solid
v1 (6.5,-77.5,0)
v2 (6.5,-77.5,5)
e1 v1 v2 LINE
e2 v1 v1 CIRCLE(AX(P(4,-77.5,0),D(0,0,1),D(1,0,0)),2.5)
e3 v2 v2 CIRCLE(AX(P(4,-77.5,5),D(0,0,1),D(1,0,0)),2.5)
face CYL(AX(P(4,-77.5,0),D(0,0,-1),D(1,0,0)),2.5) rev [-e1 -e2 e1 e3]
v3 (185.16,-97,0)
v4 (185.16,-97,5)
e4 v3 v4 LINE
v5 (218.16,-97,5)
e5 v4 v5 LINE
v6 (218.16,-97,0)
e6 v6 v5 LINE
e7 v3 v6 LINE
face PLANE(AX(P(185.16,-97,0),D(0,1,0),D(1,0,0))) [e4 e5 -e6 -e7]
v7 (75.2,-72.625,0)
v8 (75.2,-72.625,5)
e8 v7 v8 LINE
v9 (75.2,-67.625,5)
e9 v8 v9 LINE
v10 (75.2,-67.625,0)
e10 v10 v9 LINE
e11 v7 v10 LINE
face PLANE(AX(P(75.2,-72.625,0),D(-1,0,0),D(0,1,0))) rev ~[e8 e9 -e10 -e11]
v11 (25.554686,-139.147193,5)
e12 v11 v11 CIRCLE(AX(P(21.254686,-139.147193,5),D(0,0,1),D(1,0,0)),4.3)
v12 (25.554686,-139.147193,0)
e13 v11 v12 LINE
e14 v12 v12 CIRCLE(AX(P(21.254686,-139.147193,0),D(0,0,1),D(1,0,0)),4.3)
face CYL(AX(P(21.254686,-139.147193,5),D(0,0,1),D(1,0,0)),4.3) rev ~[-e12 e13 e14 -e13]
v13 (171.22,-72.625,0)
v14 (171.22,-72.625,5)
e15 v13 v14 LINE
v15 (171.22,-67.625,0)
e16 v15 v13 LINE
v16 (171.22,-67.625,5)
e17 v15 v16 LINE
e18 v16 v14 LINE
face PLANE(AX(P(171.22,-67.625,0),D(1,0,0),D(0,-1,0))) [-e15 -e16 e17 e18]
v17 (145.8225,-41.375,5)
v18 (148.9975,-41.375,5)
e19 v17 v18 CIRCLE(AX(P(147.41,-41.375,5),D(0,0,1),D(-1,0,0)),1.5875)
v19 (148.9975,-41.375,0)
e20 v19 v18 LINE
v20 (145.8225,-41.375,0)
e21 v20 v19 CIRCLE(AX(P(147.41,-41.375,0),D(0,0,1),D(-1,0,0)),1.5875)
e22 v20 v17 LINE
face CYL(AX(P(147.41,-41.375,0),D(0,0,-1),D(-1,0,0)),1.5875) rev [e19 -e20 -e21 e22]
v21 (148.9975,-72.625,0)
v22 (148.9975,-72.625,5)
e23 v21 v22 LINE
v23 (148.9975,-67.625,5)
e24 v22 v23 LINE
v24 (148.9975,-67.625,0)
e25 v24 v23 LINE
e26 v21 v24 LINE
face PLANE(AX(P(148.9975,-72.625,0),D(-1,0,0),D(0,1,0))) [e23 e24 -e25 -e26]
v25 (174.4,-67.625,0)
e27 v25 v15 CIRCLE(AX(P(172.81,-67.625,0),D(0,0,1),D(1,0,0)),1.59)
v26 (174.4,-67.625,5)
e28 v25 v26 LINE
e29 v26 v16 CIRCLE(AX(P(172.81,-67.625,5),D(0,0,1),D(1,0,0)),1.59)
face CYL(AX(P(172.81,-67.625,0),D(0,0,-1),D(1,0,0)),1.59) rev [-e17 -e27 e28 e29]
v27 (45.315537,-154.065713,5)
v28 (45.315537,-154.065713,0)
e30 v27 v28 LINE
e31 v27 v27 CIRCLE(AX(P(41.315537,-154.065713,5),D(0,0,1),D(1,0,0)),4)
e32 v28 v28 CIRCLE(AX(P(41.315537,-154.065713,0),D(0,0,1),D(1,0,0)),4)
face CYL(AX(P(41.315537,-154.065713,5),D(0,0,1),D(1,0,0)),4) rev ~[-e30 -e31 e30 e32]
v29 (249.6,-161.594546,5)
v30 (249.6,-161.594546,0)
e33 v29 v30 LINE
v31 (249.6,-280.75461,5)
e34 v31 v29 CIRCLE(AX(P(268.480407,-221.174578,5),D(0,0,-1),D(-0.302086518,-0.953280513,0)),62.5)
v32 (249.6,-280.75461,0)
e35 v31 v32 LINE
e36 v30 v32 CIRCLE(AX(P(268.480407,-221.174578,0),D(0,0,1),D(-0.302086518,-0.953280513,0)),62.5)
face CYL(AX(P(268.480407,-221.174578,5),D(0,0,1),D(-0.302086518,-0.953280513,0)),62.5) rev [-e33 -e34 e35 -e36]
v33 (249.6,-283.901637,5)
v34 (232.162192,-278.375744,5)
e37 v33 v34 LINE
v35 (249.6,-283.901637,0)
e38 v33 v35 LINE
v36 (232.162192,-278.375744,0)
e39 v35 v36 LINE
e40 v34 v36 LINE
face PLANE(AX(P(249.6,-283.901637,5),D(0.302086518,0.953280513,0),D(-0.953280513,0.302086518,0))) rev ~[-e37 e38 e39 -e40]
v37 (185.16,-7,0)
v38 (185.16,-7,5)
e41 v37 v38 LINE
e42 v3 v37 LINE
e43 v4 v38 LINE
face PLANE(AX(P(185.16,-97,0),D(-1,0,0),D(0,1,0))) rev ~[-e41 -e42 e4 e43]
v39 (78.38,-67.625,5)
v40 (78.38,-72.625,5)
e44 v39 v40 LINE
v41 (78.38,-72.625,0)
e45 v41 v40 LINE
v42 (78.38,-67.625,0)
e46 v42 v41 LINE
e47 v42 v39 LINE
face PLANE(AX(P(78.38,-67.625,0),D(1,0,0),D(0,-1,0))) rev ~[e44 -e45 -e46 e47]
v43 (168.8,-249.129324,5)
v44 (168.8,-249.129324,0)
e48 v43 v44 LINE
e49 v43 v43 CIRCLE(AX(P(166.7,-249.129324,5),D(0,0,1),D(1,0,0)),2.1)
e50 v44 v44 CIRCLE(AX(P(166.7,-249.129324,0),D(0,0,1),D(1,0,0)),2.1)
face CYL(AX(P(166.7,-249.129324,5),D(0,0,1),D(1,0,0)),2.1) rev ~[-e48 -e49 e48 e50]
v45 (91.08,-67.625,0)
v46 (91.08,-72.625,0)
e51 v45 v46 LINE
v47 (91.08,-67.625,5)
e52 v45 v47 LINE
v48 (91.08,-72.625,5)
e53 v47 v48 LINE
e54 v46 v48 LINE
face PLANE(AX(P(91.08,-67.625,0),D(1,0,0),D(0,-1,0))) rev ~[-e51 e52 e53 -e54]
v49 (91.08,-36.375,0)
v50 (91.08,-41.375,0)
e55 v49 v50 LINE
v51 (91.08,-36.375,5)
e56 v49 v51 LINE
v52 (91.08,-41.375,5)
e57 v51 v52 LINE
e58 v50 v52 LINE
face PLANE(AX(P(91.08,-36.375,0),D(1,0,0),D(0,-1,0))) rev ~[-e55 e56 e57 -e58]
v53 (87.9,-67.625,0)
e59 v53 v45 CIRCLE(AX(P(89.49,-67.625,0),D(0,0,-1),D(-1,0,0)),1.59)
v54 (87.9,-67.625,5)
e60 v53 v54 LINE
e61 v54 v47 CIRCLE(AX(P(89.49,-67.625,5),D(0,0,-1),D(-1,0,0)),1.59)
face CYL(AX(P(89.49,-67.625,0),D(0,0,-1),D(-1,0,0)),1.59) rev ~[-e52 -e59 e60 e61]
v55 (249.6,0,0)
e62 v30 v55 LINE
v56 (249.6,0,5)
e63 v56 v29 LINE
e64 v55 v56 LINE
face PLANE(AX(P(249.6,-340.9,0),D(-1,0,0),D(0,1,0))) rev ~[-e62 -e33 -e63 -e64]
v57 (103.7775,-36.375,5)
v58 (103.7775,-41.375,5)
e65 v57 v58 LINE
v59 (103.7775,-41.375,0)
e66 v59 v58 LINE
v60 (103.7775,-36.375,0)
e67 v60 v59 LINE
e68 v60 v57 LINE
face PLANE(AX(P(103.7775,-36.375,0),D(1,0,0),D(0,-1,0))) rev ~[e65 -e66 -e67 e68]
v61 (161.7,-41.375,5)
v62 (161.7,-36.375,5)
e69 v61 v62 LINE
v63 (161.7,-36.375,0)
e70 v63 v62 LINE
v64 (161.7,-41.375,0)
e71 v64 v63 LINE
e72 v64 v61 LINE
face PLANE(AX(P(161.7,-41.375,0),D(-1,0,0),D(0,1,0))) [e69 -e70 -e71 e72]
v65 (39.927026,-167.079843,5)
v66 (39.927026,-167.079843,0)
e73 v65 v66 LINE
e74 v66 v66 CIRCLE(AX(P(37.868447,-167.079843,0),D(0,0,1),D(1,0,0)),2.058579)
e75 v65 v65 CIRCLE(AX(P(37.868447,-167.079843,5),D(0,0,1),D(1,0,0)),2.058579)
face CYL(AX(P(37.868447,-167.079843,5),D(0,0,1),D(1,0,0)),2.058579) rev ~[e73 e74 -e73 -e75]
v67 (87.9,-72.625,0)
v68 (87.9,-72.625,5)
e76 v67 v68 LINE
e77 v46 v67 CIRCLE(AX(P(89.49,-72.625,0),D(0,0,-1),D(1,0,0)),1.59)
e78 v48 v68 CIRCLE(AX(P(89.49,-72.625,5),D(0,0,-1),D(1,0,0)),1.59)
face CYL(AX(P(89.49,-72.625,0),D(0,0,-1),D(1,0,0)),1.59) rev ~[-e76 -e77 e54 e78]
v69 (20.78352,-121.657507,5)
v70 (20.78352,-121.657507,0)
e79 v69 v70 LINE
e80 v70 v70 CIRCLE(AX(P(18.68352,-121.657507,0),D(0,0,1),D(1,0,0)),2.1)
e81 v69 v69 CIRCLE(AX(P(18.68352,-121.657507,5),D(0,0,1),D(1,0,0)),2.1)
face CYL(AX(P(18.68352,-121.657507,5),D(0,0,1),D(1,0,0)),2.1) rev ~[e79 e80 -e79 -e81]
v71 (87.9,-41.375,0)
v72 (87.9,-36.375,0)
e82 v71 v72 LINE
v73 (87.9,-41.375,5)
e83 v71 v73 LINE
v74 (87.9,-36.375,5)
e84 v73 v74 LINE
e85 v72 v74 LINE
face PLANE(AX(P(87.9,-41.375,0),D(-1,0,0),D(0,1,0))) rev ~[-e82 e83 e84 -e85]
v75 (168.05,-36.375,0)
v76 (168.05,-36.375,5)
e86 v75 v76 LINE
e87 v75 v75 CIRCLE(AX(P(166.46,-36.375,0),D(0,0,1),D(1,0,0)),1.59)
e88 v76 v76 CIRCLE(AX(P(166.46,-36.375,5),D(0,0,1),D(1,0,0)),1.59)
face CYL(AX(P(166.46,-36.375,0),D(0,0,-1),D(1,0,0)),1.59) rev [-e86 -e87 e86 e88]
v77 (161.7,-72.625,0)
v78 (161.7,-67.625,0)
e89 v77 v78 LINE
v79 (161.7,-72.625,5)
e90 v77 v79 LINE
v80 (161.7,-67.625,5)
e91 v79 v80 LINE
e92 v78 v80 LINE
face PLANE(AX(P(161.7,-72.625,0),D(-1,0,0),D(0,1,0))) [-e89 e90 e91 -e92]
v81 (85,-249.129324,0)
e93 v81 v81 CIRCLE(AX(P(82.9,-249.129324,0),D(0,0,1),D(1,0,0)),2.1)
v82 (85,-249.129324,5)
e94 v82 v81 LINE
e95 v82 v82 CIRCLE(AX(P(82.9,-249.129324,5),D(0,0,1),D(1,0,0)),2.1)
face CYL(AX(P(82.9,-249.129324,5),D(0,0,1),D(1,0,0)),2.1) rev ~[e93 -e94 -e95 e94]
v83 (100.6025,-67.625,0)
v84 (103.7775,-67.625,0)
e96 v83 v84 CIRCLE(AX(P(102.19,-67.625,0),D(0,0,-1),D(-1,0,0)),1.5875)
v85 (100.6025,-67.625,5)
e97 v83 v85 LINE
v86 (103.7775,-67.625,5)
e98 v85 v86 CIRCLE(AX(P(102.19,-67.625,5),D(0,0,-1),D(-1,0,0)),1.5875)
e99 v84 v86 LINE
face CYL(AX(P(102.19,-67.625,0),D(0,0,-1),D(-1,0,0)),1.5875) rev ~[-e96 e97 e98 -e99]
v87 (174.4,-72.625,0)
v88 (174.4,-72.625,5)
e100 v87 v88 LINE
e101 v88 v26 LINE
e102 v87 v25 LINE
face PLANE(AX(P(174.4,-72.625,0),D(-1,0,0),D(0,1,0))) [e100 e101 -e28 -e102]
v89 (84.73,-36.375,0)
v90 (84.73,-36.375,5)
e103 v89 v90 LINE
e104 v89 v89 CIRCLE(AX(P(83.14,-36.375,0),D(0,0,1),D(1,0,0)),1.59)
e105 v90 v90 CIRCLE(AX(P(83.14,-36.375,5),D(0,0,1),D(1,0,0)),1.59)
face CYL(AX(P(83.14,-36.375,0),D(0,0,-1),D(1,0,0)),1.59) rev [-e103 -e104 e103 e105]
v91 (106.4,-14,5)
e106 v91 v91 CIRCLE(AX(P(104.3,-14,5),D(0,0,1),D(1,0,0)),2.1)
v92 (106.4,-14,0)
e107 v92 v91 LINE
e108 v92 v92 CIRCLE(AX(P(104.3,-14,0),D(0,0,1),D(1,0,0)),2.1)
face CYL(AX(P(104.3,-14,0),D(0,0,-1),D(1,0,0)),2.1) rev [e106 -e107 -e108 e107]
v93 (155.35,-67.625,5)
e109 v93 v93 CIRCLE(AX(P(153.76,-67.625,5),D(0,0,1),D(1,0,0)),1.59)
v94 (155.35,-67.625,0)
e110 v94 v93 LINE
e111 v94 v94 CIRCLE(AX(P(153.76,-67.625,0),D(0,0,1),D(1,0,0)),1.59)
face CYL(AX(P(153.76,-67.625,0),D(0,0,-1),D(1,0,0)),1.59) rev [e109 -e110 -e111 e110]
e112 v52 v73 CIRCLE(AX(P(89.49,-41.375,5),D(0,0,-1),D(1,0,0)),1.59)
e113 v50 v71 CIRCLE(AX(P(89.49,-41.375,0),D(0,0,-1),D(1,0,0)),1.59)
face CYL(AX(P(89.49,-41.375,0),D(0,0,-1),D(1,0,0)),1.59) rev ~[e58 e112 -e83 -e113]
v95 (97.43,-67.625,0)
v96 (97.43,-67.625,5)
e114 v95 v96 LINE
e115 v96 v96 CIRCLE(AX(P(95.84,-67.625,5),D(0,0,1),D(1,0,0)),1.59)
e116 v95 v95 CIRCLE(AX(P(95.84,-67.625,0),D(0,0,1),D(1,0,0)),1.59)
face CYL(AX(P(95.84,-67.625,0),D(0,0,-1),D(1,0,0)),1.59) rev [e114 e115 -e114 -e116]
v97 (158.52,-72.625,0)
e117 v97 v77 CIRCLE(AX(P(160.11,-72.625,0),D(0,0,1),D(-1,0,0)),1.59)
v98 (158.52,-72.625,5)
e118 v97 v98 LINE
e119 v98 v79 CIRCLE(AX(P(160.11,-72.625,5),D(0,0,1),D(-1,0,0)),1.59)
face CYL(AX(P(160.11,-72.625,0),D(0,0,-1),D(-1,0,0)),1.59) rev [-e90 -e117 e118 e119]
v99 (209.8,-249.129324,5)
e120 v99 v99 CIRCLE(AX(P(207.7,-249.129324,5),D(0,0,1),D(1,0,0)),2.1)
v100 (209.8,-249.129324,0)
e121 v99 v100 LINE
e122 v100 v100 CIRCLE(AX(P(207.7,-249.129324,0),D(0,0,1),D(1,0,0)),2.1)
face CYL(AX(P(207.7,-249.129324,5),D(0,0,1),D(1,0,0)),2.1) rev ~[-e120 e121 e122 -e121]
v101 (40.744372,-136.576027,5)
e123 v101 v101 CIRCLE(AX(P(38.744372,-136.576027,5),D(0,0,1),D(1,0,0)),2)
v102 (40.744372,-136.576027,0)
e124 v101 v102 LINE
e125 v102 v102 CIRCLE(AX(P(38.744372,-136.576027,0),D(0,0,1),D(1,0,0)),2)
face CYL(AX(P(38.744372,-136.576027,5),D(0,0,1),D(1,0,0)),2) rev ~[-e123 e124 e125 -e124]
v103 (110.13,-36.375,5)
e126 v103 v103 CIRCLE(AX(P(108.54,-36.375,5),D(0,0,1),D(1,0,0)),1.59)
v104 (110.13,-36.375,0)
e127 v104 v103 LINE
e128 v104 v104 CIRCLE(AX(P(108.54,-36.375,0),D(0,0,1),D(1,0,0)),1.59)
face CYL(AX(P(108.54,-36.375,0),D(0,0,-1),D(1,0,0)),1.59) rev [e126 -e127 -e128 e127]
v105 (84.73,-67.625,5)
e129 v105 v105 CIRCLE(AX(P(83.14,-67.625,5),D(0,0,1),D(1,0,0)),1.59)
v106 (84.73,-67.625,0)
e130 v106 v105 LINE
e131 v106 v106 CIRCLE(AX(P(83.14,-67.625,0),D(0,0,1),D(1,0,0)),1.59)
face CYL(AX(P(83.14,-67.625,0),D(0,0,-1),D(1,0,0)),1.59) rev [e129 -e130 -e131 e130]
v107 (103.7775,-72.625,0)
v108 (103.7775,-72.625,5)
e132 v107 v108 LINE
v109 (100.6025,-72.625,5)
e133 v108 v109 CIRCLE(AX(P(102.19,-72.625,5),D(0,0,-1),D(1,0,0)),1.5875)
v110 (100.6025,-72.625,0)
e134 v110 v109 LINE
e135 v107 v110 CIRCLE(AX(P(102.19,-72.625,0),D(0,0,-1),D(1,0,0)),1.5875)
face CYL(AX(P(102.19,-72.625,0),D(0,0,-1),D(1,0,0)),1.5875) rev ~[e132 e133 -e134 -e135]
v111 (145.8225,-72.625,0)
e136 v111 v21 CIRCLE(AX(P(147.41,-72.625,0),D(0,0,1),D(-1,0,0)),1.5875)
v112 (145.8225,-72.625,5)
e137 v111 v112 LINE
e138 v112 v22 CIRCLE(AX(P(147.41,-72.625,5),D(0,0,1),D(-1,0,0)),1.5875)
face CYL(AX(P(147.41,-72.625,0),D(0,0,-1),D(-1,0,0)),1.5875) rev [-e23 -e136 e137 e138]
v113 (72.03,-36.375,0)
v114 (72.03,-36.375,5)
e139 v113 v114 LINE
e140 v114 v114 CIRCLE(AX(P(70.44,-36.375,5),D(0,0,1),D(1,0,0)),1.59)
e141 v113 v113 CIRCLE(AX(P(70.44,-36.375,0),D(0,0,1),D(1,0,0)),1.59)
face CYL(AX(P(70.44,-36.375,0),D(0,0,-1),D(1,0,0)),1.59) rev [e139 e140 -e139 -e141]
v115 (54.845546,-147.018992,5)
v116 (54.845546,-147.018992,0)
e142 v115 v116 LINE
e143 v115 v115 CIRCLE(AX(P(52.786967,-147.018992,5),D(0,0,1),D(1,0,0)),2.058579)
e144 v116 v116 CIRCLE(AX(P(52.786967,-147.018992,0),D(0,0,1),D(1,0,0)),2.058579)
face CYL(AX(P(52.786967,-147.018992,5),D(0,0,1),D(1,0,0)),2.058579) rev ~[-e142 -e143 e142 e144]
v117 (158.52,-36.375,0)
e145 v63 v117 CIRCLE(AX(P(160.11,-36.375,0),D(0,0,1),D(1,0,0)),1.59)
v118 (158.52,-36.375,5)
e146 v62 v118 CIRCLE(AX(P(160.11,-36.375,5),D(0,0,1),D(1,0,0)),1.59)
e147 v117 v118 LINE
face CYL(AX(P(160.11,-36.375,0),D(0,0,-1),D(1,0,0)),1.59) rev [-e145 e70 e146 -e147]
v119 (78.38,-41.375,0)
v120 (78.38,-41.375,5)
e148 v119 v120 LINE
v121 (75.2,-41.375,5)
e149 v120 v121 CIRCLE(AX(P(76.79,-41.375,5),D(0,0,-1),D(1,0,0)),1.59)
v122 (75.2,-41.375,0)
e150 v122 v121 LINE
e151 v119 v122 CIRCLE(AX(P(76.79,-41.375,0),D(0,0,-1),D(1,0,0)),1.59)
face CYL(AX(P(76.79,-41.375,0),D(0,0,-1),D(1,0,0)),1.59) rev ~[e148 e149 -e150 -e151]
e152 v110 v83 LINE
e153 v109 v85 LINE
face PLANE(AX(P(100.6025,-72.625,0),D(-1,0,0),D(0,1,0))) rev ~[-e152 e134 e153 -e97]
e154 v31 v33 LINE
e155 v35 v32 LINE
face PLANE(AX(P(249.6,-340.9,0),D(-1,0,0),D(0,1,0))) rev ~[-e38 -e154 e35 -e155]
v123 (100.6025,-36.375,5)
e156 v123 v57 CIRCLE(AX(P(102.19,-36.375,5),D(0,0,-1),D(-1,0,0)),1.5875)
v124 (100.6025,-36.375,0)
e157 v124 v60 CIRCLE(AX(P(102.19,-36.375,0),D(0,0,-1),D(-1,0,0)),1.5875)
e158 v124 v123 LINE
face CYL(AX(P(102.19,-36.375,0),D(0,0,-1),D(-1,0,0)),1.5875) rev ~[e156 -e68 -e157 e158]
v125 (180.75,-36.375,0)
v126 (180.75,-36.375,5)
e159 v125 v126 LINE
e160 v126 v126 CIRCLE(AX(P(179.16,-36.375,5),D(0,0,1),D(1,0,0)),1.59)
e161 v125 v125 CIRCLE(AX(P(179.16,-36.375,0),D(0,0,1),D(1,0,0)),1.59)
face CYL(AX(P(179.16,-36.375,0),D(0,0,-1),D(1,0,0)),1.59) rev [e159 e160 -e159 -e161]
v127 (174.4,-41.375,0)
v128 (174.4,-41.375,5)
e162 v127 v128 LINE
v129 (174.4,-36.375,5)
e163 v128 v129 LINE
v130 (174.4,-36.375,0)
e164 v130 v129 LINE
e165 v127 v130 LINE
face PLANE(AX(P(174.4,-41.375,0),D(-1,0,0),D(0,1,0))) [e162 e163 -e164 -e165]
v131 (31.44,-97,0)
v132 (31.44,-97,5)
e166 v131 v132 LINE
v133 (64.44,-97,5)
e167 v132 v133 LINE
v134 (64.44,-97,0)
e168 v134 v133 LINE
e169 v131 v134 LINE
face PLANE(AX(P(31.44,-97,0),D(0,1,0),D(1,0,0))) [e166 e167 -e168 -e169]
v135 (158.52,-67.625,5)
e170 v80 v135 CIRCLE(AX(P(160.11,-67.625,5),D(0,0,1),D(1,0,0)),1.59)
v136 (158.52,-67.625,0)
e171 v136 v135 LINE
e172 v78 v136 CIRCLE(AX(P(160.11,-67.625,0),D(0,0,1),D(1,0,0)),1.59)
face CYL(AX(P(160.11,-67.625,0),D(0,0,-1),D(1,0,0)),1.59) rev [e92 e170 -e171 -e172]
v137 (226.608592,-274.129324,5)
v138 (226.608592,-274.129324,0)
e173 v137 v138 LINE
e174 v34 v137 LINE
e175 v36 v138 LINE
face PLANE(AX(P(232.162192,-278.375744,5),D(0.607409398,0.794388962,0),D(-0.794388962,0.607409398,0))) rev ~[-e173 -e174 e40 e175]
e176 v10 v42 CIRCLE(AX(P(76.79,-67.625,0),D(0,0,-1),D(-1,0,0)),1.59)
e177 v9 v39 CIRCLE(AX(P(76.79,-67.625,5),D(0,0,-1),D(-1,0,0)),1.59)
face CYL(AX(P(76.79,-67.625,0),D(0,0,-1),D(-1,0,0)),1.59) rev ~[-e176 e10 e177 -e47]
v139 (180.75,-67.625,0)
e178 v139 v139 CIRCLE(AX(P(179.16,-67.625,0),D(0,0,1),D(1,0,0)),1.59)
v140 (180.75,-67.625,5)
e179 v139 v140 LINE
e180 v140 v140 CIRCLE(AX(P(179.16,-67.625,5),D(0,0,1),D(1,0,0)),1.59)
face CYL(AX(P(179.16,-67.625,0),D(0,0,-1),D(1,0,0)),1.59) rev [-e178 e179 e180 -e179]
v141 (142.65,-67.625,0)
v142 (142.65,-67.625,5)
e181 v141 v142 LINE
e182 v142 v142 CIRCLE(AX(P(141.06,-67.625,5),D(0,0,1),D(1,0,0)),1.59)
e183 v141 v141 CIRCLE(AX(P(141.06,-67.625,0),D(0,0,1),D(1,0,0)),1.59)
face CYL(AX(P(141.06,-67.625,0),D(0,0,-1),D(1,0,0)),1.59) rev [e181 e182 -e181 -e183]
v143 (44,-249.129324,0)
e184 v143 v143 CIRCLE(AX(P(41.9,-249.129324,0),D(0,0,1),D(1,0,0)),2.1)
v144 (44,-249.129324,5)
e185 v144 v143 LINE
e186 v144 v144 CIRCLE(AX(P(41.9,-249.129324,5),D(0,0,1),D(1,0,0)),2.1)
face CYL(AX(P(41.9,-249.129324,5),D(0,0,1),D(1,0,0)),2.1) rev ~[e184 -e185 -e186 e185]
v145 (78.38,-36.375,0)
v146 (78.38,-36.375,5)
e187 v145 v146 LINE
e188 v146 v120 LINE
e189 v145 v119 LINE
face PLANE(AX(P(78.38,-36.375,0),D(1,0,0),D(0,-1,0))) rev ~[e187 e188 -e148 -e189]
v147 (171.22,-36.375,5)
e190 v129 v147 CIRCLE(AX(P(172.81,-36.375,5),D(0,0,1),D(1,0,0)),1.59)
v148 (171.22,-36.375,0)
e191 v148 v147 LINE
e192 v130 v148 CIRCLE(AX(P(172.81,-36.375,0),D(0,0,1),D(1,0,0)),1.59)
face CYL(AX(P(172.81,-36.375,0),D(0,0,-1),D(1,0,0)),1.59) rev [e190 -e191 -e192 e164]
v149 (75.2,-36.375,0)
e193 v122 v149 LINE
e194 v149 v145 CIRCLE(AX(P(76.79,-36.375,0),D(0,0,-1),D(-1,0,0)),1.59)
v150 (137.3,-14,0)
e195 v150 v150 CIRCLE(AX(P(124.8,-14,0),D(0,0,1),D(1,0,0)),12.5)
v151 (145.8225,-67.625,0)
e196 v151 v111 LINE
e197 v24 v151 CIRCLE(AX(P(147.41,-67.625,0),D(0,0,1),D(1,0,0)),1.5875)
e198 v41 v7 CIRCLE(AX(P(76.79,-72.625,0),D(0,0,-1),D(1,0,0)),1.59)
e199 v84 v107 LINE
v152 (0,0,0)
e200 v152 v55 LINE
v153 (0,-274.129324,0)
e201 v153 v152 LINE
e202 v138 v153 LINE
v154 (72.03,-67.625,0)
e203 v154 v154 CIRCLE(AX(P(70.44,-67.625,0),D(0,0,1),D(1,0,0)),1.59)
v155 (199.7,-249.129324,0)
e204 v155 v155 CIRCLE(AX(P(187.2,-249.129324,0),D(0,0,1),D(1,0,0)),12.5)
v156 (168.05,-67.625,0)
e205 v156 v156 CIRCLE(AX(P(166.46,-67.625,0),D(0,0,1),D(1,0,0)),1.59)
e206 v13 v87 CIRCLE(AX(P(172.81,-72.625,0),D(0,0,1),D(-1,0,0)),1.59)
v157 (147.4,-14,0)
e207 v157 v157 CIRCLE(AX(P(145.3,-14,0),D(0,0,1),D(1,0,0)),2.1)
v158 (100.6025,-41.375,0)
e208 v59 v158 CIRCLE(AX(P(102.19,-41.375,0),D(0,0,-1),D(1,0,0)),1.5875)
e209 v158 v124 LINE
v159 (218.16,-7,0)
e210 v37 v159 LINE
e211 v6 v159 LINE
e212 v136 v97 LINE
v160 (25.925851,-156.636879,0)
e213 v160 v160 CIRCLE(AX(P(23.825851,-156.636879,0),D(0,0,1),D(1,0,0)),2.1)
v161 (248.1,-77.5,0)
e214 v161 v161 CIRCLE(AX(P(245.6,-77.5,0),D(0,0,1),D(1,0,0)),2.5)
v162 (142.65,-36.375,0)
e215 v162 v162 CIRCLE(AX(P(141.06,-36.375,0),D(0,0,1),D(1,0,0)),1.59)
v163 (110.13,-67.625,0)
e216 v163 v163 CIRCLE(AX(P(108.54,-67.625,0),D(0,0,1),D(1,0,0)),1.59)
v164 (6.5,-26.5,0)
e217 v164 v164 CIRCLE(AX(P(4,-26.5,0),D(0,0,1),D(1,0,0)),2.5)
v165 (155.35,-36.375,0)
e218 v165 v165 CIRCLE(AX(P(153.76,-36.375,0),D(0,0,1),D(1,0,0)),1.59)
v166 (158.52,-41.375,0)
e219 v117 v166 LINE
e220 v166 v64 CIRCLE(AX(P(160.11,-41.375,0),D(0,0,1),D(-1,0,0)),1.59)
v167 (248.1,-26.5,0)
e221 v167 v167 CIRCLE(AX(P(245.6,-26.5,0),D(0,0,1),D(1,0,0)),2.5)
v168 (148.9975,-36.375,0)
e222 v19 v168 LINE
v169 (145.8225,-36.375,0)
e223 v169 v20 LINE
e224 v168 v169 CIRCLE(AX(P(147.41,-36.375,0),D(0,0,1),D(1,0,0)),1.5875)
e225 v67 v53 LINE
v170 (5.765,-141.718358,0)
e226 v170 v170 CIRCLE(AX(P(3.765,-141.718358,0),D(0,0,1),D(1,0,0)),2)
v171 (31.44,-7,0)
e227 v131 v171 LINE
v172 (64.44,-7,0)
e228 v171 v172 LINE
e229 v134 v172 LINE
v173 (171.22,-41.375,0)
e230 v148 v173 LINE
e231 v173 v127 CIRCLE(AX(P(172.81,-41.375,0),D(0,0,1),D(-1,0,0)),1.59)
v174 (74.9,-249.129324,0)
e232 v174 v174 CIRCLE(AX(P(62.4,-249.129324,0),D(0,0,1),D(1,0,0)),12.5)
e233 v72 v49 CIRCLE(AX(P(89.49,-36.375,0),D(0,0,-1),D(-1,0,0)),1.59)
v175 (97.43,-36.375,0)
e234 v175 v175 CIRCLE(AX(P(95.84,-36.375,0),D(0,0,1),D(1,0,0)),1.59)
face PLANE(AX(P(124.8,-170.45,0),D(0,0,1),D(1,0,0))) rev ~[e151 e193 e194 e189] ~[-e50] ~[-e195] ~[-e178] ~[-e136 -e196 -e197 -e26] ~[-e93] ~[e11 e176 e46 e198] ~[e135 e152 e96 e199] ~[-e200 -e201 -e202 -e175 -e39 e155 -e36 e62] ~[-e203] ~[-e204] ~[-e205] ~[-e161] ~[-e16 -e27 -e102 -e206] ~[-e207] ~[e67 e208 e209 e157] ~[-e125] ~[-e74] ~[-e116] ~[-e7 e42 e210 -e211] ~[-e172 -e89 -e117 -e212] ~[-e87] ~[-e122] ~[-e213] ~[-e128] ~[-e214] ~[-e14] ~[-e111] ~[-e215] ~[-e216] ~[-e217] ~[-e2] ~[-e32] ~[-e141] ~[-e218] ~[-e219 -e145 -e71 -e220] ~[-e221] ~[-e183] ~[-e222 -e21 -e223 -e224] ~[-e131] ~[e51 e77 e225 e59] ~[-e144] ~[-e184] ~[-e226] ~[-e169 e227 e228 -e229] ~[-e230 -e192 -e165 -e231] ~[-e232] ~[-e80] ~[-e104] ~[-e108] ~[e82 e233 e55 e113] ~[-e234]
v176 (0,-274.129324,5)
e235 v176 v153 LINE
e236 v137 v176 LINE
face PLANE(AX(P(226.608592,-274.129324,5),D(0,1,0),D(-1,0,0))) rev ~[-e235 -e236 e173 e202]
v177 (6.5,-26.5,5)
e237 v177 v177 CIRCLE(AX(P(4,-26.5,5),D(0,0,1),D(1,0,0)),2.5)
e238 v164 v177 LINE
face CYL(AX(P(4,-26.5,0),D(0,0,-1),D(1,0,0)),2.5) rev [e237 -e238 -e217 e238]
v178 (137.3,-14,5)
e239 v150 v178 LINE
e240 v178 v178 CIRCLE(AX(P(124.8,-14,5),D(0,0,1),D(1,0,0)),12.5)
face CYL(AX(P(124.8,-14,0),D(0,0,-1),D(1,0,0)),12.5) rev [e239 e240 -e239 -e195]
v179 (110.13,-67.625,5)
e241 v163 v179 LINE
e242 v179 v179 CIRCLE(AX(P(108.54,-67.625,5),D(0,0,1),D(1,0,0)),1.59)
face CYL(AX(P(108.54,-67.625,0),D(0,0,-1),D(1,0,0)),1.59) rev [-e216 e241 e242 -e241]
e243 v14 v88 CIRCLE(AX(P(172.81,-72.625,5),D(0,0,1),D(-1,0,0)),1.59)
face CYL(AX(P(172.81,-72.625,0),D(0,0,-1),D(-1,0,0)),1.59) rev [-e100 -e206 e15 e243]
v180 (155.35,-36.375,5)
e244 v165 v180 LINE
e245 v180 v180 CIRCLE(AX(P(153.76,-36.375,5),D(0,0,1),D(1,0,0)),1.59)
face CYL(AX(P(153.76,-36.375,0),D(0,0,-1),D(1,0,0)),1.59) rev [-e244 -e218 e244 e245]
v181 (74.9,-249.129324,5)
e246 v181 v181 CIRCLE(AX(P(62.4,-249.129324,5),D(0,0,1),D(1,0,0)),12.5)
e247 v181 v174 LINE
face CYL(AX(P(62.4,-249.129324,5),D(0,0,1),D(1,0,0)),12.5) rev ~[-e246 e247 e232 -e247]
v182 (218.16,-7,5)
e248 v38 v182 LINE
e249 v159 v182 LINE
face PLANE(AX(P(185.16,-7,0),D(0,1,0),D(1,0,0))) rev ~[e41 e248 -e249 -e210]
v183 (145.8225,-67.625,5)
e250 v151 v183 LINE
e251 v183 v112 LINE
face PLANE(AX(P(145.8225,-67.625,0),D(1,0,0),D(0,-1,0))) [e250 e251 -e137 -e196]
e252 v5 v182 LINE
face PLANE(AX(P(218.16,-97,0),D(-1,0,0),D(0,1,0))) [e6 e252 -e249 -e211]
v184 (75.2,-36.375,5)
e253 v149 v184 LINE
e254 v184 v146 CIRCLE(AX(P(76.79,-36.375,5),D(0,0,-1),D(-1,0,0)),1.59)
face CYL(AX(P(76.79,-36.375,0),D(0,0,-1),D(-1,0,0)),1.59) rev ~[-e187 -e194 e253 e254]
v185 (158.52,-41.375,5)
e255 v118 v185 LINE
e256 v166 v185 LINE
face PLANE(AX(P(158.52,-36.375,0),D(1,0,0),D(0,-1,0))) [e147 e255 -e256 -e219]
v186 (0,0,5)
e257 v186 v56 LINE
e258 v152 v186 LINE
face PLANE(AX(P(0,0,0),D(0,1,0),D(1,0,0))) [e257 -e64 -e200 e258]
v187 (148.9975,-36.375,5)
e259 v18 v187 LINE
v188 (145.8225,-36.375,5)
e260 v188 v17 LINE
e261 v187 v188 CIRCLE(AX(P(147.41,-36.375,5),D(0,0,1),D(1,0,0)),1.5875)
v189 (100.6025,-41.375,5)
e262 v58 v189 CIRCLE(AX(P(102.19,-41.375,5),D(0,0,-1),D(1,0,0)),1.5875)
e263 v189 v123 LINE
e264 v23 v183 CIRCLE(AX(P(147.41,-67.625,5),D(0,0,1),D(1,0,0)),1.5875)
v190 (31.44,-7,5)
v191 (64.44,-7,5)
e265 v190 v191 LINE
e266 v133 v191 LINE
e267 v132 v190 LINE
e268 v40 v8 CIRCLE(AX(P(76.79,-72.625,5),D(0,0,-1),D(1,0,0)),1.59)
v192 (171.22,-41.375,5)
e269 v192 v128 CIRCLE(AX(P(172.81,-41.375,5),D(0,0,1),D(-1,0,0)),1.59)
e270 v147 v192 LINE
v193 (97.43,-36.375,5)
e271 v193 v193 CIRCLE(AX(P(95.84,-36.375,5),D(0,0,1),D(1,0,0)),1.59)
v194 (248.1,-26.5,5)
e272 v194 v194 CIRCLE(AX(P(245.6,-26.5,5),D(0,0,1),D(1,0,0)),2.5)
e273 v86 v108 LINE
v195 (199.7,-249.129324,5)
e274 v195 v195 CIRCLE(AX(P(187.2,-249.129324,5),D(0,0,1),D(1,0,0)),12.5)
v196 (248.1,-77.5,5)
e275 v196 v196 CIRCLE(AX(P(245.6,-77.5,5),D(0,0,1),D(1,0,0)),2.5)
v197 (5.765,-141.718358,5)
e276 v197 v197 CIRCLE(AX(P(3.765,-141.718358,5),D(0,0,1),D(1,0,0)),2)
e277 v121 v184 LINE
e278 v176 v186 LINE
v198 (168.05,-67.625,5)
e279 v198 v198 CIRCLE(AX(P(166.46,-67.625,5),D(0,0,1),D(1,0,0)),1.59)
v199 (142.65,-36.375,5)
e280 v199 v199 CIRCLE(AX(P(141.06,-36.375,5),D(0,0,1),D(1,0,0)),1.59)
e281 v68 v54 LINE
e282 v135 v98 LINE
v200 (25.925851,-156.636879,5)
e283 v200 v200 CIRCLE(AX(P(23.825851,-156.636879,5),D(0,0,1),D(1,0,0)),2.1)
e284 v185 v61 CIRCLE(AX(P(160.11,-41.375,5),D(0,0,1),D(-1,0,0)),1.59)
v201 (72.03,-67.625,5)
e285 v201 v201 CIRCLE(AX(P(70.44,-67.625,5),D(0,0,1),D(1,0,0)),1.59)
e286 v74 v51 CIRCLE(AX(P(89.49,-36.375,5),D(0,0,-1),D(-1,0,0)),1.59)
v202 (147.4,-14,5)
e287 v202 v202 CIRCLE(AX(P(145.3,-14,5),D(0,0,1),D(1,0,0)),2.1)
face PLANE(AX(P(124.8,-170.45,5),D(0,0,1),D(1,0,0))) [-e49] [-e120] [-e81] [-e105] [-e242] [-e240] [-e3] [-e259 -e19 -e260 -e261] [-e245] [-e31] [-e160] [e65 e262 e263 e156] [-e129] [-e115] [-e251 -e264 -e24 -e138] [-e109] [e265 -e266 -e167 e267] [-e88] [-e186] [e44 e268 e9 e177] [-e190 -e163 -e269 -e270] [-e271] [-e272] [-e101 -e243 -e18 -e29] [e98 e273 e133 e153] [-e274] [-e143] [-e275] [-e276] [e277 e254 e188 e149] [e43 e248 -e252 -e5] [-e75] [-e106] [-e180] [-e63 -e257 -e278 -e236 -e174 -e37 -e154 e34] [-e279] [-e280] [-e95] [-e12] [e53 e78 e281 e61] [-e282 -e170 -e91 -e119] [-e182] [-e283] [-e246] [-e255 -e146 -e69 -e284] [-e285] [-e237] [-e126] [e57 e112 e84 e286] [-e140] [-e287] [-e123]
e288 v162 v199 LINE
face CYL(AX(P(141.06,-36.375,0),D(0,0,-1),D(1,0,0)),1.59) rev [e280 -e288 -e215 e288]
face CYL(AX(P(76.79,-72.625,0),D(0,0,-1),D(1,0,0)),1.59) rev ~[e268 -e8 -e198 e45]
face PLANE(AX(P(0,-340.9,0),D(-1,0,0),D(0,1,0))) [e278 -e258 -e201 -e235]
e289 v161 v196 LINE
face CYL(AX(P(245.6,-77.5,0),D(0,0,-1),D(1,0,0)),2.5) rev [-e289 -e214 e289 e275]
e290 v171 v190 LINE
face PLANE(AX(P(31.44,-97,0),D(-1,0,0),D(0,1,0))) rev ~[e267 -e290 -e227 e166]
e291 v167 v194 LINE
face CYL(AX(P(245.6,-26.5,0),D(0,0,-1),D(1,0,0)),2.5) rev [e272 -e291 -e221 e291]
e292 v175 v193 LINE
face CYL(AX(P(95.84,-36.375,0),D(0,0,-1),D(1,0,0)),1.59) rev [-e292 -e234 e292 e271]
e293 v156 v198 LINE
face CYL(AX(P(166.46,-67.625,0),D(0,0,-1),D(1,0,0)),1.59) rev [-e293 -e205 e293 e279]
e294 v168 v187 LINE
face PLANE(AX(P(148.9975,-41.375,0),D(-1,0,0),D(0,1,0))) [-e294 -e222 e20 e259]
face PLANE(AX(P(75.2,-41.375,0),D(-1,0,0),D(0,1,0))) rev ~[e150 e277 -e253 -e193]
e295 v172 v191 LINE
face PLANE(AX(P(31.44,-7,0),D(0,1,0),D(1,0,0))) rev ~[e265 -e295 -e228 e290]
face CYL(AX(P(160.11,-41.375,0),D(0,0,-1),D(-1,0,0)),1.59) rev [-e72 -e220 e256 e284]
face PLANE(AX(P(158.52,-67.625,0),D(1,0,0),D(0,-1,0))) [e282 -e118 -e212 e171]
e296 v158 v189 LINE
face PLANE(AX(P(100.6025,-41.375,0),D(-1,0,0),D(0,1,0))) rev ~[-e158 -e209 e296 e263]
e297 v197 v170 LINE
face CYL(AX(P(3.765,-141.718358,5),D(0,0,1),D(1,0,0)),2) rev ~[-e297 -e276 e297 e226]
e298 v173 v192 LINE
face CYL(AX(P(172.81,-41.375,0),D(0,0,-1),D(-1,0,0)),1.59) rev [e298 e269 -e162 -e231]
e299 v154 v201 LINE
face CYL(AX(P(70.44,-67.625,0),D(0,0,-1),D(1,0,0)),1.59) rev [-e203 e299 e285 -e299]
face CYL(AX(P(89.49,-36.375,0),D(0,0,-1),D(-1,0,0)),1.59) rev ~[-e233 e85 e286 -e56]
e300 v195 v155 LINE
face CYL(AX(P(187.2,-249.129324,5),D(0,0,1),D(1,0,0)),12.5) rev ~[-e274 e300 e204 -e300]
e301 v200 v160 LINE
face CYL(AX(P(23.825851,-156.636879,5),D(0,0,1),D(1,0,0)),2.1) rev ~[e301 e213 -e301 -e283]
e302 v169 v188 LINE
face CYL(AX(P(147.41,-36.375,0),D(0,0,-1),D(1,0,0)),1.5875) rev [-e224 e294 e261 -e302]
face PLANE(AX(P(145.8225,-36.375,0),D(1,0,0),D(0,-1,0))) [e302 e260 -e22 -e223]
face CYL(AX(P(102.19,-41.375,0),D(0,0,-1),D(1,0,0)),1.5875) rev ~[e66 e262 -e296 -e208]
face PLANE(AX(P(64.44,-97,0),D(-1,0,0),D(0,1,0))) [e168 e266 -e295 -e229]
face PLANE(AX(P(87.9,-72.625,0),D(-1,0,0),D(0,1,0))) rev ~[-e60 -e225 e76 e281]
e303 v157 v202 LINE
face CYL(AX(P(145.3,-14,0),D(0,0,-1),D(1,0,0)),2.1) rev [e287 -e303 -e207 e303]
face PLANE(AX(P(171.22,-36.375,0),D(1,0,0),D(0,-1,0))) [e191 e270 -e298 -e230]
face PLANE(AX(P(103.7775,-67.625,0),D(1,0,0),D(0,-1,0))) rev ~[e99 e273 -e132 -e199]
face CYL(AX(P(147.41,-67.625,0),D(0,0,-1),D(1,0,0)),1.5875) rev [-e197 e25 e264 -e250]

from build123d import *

# Parameters (mm, degrees)
SKETCH1_W               = 249.6
SKETCH1_H               = 340.9
SKETCH1_R               = 2.1
SKETCH1_R_2             = 2.5
SKETCH1_R_3             = 1.59
SKETCH1_R_4             = 12.5
SKETCH1_W_2             = 33
SKETCH1_H_2             = 90
BOSS_EXTRUDE1_DEPTH     = 5
CUT_EXTRUDE3_DEPTH      = 193
CUT_EXTRUDE3_DEPTH_BACK = 193
CUT_EXTRUDE6_DEPTH      = 6
SKETCH8_R               = 2
SKETCH8_R_2             = 2.1
SKETCH8_R_3             = 2.058578644
SKETCH8_R_4             = 4
SKETCH8_R_5             = 4.3
CUT_EXTRUDE7_DEPTH      = 6
SKETCH9_R               = 12.5
SKETCH9_R_2             = 2.1
CUT_EXTRUDE8_DEPTH      = 6


with BuildPart() as part:
    # Sketch1 → Boss-Extrude1 (new body)
    with BuildSketch(Plane.XY):
        with Locations((124.8, -170.45)):
            Rectangle(SKETCH1_W, SKETCH1_H)
        with Locations((104.3, -14)):
            Circle(SKETCH1_R, mode=Mode.SUBTRACT)
        with Locations((245.6, -26.5)):
            Circle(SKETCH1_R_2, mode=Mode.SUBTRACT)
        with Locations((245.6, -77.5)):
            Circle(SKETCH1_R_2, mode=Mode.SUBTRACT)
        with Locations((145.3, -14)):
            Circle(SKETCH1_R, mode=Mode.SUBTRACT)
        with Locations((179.16, -36.375)):
            Circle(SKETCH1_R_3, mode=Mode.SUBTRACT)
        with Locations((179.16, -67.625)):
            Circle(SKETCH1_R_3, mode=Mode.SUBTRACT)
        with Locations((124.8, -14)):
            Circle(SKETCH1_R_4, mode=Mode.SUBTRACT)
        with Locations((141.06, -36.375)):
            Circle(SKETCH1_R_3, mode=Mode.SUBTRACT)
        with Locations((153.76, -36.375)):
            Circle(SKETCH1_R_3, mode=Mode.SUBTRACT)
        with Locations((166.46, -36.375)):
            Circle(SKETCH1_R_3, mode=Mode.SUBTRACT)
        with Locations((141.06, -67.625)):
            Circle(SKETCH1_R_3, mode=Mode.SUBTRACT)
        with Locations((153.76, -67.625)):
            Circle(SKETCH1_R_3, mode=Mode.SUBTRACT)
        with Locations((166.46, -67.625)):
            Circle(SKETCH1_R_3, mode=Mode.SUBTRACT)
        with Locations((83.14, -67.625)):
            Circle(SKETCH1_R_3, mode=Mode.SUBTRACT)
        with Locations((95.84, -67.625)):
            Circle(SKETCH1_R_3, mode=Mode.SUBTRACT)
        with Locations((108.54, -67.625)):
            Circle(SKETCH1_R_3, mode=Mode.SUBTRACT)
        with Locations((83.14, -36.375)):
            Circle(SKETCH1_R_3, mode=Mode.SUBTRACT)
        with Locations((95.84, -36.375)):
            Circle(SKETCH1_R_3, mode=Mode.SUBTRACT)
        with Locations((108.54, -36.375)):
            Circle(SKETCH1_R_3, mode=Mode.SUBTRACT)
        with Locations((70.44, -67.625)):
            Circle(SKETCH1_R_3, mode=Mode.SUBTRACT)
        with Locations((70.44, -36.375)):
            Circle(SKETCH1_R_3, mode=Mode.SUBTRACT)
        with Locations((4, -77.5)):
            Circle(SKETCH1_R_2, mode=Mode.SUBTRACT)
        with Locations((4, -26.5)):
            Circle(SKETCH1_R_2, mode=Mode.SUBTRACT)
        with Locations((201.66, -52)):
            Rectangle(SKETCH1_W_2, SKETCH1_H_2, mode=Mode.SUBTRACT)
        with BuildLine():
            Line((145.8225, -36.375), (145.8225, -41.375))
            ThreePointArc((145.8225, -41.375), (147.41, -42.9625), (148.9975, -41.375))
            Line((148.9975, -41.375), (148.9975, -36.375))
            ThreePointArc((148.9975, -36.375), (147.41, -34.7875), (145.8225, -36.375))
        make_face(mode=Mode.SUBTRACT)
        with BuildLine():
            Line((158.52, -36.375), (158.52, -41.375))
            ThreePointArc((158.52, -41.375), (160.11, -42.965), (161.7, -41.375))
            Line((161.7, -41.375), (161.7, -36.375))
            ThreePointArc((161.7, -36.375), (160.11, -34.785), (158.52, -36.375))
        make_face(mode=Mode.SUBTRACT)
        with BuildLine():
            Line((171.22, -36.375), (171.22, -41.375))
            ThreePointArc((171.22, -41.375), (172.81, -42.965), (174.4, -41.375))
            Line((174.4, -41.375), (174.4, -36.375))
            ThreePointArc((174.4, -36.375), (172.81, -34.785), (171.22, -36.375))
        make_face(mode=Mode.SUBTRACT)
        with BuildLine():
            Line((145.8225, -67.625), (145.8225, -72.625))
            ThreePointArc((145.8225, -72.625), (147.41, -74.2125), (148.9975, -72.625))
            Line((148.9975, -72.625), (148.9975, -67.625))
            ThreePointArc((148.9975, -67.625), (147.41, -66.0375), (145.8225, -67.625))
        make_face(mode=Mode.SUBTRACT)
        with BuildLine():
            Line((158.52, -67.625), (158.52, -72.625))
            ThreePointArc((158.52, -72.625), (160.11, -74.215), (161.7, -72.625))
            Line((161.7, -72.625), (161.7, -67.625))
            ThreePointArc((161.7, -67.625), (160.11, -66.035), (158.52, -67.625))
        make_face(mode=Mode.SUBTRACT)
        with BuildLine():
            Line((171.22, -67.625), (171.22, -72.625))
            ThreePointArc((171.22, -72.625), (172.81, -74.215), (174.4, -72.625))
            Line((174.4, -72.625), (174.4, -67.625))
            ThreePointArc((174.4, -67.625), (172.81, -66.035), (171.22, -67.625))
        make_face(mode=Mode.SUBTRACT)
        with BuildLine():
            Line((103.7775, -36.375), (103.7775, -41.375))
            ThreePointArc((103.7775, -41.375), (102.19, -42.9625), (100.6025, -41.375))
            Line((100.6025, -41.375), (100.6025, -36.375))
            ThreePointArc((100.6025, -36.375), (102.19, -34.7875), (103.7775, -36.375))
        make_face(mode=Mode.SUBTRACT)
        with BuildLine():
            Line((91.08, -36.375), (91.08, -41.375))
            ThreePointArc((91.08, -41.375), (89.49, -42.965), (87.9, -41.375))
            Line((87.9, -41.375), (87.9, -36.375))
            ThreePointArc((87.9, -36.375), (89.49, -34.785), (91.08, -36.375))
        make_face(mode=Mode.SUBTRACT)
        with BuildLine():
            Line((78.38, -36.375), (78.38, -41.375))
            ThreePointArc((78.38, -41.375), (76.79, -42.965), (75.2, -41.375))
            Line((75.2, -41.375), (75.2, -36.375))
            ThreePointArc((75.2, -36.375), (76.79, -34.785), (78.38, -36.375))
        make_face(mode=Mode.SUBTRACT)
        with BuildLine():
            Line((103.7775, -67.625), (103.7775, -72.625))
            ThreePointArc((103.7775, -72.625), (102.19, -74.2125), (100.6025, -72.625))
            Line((100.6025, -72.625), (100.6025, -67.625))
            ThreePointArc((100.6025, -67.625), (102.19, -66.0375), (103.7775, -67.625))
        make_face(mode=Mode.SUBTRACT)
        with BuildLine():
            Line((91.08, -67.625), (91.08, -72.625))
            ThreePointArc((91.08, -72.625), (89.49, -74.215), (87.9, -72.625))
            Line((87.9, -72.625), (87.9, -67.625))
            ThreePointArc((87.9, -67.625), (89.49, -66.035), (91.08, -67.625))
        make_face(mode=Mode.SUBTRACT)
        with BuildLine():
            Line((78.38, -67.625), (78.38, -72.625))
            ThreePointArc((78.38, -72.625), (76.79, -74.215), (75.2, -72.625))
            Line((75.2, -72.625), (75.2, -67.625))
            ThreePointArc((75.2, -67.625), (76.79, -66.035), (78.38, -67.625))
        make_face(mode=Mode.SUBTRACT)
        with Locations((47.94, -52)):
            Rectangle(SKETCH1_W_2, SKETCH1_H_2, mode=Mode.SUBTRACT)
    extrude(amount=BOSS_EXTRUDE1_DEPTH)

    # Sketch4 → Cut-Extrude3 (cut, two sides)
    with BuildSketch(Plane.XY.offset(5)) as cut_extrude3_sk:
        with BuildLine():
            Line((249.6, -161.594545719), (249.6, -280.754609783))
            ThreePointArc((249.6, -280.754609783), (205.980407386, -221.174577751), (249.6, -161.594545719))
        make_face()
    extrude(amount=CUT_EXTRUDE3_DEPTH, mode=Mode.SUBTRACT)
    extrude(cut_extrude3_sk.sketch, amount=-CUT_EXTRUDE3_DEPTH_BACK, mode=Mode.SUBTRACT)

    # Sketch7 → Cut-Extrude6 (cut, through all)
    with BuildSketch(Plane.XY.offset(5)):
        Polygon((249.6, -283.901637295), (232.162192493, -278.37574383), (226.608591706, -274.129323659), (0, -274.129323659), (0, -340.9), (249.6, -340.9), align=None)
    extrude(amount=-CUT_EXTRUDE6_DEPTH, mode=Mode.SUBTRACT)

    # Sketch8 → Cut-Extrude7 (cut, through all)
    with BuildSketch(Plane.XY.offset(5)):
        with Locations((3.765, -141.718358436)):
            Circle(SKETCH8_R)
        with Locations((18.683520247, -121.657507167)):
            Circle(SKETCH8_R_2)
        with Locations((23.825851269, -156.636878683)):
            Circle(SKETCH8_R_2)
        with Locations((37.868447157, -167.079842856)):
            Circle(SKETCH8_R_3)
        with Locations((41.315537027, -154.065713172)):
            Circle(SKETCH8_R_4)
        with Locations((38.744371516, -136.576027414)):
            Circle(SKETCH8_R)
        with Locations((21.254685758, -139.147192925)):
            Circle(SKETCH8_R_5)
        with Locations((52.786967404, -147.018991586)):
            Circle(SKETCH8_R_3)
    extrude(amount=-CUT_EXTRUDE7_DEPTH, mode=Mode.SUBTRACT)

    # Sketch9 → Cut-Extrude8 (cut, through all)
    with BuildSketch(Plane.XY.offset(5)):
        with Locations((62.4, -249.129323659)):
            Circle(SKETCH9_R)
        with Locations((82.9, -249.129323659)):
            Circle(SKETCH9_R_2)
        with Locations((41.9, -249.129323659)):
            Circle(SKETCH9_R_2)
        with Locations((207.7, -249.129323659)):
            Circle(SKETCH9_R_2)
        with Locations((166.7, -249.129323659)):
            Circle(SKETCH9_R_2)
        with Locations((187.2, -249.129323659)):
            Circle(SKETCH9_R)
    extrude(amount=-CUT_EXTRUDE8_DEPTH, mode=Mode.SUBTRACT)


solid = part.part
